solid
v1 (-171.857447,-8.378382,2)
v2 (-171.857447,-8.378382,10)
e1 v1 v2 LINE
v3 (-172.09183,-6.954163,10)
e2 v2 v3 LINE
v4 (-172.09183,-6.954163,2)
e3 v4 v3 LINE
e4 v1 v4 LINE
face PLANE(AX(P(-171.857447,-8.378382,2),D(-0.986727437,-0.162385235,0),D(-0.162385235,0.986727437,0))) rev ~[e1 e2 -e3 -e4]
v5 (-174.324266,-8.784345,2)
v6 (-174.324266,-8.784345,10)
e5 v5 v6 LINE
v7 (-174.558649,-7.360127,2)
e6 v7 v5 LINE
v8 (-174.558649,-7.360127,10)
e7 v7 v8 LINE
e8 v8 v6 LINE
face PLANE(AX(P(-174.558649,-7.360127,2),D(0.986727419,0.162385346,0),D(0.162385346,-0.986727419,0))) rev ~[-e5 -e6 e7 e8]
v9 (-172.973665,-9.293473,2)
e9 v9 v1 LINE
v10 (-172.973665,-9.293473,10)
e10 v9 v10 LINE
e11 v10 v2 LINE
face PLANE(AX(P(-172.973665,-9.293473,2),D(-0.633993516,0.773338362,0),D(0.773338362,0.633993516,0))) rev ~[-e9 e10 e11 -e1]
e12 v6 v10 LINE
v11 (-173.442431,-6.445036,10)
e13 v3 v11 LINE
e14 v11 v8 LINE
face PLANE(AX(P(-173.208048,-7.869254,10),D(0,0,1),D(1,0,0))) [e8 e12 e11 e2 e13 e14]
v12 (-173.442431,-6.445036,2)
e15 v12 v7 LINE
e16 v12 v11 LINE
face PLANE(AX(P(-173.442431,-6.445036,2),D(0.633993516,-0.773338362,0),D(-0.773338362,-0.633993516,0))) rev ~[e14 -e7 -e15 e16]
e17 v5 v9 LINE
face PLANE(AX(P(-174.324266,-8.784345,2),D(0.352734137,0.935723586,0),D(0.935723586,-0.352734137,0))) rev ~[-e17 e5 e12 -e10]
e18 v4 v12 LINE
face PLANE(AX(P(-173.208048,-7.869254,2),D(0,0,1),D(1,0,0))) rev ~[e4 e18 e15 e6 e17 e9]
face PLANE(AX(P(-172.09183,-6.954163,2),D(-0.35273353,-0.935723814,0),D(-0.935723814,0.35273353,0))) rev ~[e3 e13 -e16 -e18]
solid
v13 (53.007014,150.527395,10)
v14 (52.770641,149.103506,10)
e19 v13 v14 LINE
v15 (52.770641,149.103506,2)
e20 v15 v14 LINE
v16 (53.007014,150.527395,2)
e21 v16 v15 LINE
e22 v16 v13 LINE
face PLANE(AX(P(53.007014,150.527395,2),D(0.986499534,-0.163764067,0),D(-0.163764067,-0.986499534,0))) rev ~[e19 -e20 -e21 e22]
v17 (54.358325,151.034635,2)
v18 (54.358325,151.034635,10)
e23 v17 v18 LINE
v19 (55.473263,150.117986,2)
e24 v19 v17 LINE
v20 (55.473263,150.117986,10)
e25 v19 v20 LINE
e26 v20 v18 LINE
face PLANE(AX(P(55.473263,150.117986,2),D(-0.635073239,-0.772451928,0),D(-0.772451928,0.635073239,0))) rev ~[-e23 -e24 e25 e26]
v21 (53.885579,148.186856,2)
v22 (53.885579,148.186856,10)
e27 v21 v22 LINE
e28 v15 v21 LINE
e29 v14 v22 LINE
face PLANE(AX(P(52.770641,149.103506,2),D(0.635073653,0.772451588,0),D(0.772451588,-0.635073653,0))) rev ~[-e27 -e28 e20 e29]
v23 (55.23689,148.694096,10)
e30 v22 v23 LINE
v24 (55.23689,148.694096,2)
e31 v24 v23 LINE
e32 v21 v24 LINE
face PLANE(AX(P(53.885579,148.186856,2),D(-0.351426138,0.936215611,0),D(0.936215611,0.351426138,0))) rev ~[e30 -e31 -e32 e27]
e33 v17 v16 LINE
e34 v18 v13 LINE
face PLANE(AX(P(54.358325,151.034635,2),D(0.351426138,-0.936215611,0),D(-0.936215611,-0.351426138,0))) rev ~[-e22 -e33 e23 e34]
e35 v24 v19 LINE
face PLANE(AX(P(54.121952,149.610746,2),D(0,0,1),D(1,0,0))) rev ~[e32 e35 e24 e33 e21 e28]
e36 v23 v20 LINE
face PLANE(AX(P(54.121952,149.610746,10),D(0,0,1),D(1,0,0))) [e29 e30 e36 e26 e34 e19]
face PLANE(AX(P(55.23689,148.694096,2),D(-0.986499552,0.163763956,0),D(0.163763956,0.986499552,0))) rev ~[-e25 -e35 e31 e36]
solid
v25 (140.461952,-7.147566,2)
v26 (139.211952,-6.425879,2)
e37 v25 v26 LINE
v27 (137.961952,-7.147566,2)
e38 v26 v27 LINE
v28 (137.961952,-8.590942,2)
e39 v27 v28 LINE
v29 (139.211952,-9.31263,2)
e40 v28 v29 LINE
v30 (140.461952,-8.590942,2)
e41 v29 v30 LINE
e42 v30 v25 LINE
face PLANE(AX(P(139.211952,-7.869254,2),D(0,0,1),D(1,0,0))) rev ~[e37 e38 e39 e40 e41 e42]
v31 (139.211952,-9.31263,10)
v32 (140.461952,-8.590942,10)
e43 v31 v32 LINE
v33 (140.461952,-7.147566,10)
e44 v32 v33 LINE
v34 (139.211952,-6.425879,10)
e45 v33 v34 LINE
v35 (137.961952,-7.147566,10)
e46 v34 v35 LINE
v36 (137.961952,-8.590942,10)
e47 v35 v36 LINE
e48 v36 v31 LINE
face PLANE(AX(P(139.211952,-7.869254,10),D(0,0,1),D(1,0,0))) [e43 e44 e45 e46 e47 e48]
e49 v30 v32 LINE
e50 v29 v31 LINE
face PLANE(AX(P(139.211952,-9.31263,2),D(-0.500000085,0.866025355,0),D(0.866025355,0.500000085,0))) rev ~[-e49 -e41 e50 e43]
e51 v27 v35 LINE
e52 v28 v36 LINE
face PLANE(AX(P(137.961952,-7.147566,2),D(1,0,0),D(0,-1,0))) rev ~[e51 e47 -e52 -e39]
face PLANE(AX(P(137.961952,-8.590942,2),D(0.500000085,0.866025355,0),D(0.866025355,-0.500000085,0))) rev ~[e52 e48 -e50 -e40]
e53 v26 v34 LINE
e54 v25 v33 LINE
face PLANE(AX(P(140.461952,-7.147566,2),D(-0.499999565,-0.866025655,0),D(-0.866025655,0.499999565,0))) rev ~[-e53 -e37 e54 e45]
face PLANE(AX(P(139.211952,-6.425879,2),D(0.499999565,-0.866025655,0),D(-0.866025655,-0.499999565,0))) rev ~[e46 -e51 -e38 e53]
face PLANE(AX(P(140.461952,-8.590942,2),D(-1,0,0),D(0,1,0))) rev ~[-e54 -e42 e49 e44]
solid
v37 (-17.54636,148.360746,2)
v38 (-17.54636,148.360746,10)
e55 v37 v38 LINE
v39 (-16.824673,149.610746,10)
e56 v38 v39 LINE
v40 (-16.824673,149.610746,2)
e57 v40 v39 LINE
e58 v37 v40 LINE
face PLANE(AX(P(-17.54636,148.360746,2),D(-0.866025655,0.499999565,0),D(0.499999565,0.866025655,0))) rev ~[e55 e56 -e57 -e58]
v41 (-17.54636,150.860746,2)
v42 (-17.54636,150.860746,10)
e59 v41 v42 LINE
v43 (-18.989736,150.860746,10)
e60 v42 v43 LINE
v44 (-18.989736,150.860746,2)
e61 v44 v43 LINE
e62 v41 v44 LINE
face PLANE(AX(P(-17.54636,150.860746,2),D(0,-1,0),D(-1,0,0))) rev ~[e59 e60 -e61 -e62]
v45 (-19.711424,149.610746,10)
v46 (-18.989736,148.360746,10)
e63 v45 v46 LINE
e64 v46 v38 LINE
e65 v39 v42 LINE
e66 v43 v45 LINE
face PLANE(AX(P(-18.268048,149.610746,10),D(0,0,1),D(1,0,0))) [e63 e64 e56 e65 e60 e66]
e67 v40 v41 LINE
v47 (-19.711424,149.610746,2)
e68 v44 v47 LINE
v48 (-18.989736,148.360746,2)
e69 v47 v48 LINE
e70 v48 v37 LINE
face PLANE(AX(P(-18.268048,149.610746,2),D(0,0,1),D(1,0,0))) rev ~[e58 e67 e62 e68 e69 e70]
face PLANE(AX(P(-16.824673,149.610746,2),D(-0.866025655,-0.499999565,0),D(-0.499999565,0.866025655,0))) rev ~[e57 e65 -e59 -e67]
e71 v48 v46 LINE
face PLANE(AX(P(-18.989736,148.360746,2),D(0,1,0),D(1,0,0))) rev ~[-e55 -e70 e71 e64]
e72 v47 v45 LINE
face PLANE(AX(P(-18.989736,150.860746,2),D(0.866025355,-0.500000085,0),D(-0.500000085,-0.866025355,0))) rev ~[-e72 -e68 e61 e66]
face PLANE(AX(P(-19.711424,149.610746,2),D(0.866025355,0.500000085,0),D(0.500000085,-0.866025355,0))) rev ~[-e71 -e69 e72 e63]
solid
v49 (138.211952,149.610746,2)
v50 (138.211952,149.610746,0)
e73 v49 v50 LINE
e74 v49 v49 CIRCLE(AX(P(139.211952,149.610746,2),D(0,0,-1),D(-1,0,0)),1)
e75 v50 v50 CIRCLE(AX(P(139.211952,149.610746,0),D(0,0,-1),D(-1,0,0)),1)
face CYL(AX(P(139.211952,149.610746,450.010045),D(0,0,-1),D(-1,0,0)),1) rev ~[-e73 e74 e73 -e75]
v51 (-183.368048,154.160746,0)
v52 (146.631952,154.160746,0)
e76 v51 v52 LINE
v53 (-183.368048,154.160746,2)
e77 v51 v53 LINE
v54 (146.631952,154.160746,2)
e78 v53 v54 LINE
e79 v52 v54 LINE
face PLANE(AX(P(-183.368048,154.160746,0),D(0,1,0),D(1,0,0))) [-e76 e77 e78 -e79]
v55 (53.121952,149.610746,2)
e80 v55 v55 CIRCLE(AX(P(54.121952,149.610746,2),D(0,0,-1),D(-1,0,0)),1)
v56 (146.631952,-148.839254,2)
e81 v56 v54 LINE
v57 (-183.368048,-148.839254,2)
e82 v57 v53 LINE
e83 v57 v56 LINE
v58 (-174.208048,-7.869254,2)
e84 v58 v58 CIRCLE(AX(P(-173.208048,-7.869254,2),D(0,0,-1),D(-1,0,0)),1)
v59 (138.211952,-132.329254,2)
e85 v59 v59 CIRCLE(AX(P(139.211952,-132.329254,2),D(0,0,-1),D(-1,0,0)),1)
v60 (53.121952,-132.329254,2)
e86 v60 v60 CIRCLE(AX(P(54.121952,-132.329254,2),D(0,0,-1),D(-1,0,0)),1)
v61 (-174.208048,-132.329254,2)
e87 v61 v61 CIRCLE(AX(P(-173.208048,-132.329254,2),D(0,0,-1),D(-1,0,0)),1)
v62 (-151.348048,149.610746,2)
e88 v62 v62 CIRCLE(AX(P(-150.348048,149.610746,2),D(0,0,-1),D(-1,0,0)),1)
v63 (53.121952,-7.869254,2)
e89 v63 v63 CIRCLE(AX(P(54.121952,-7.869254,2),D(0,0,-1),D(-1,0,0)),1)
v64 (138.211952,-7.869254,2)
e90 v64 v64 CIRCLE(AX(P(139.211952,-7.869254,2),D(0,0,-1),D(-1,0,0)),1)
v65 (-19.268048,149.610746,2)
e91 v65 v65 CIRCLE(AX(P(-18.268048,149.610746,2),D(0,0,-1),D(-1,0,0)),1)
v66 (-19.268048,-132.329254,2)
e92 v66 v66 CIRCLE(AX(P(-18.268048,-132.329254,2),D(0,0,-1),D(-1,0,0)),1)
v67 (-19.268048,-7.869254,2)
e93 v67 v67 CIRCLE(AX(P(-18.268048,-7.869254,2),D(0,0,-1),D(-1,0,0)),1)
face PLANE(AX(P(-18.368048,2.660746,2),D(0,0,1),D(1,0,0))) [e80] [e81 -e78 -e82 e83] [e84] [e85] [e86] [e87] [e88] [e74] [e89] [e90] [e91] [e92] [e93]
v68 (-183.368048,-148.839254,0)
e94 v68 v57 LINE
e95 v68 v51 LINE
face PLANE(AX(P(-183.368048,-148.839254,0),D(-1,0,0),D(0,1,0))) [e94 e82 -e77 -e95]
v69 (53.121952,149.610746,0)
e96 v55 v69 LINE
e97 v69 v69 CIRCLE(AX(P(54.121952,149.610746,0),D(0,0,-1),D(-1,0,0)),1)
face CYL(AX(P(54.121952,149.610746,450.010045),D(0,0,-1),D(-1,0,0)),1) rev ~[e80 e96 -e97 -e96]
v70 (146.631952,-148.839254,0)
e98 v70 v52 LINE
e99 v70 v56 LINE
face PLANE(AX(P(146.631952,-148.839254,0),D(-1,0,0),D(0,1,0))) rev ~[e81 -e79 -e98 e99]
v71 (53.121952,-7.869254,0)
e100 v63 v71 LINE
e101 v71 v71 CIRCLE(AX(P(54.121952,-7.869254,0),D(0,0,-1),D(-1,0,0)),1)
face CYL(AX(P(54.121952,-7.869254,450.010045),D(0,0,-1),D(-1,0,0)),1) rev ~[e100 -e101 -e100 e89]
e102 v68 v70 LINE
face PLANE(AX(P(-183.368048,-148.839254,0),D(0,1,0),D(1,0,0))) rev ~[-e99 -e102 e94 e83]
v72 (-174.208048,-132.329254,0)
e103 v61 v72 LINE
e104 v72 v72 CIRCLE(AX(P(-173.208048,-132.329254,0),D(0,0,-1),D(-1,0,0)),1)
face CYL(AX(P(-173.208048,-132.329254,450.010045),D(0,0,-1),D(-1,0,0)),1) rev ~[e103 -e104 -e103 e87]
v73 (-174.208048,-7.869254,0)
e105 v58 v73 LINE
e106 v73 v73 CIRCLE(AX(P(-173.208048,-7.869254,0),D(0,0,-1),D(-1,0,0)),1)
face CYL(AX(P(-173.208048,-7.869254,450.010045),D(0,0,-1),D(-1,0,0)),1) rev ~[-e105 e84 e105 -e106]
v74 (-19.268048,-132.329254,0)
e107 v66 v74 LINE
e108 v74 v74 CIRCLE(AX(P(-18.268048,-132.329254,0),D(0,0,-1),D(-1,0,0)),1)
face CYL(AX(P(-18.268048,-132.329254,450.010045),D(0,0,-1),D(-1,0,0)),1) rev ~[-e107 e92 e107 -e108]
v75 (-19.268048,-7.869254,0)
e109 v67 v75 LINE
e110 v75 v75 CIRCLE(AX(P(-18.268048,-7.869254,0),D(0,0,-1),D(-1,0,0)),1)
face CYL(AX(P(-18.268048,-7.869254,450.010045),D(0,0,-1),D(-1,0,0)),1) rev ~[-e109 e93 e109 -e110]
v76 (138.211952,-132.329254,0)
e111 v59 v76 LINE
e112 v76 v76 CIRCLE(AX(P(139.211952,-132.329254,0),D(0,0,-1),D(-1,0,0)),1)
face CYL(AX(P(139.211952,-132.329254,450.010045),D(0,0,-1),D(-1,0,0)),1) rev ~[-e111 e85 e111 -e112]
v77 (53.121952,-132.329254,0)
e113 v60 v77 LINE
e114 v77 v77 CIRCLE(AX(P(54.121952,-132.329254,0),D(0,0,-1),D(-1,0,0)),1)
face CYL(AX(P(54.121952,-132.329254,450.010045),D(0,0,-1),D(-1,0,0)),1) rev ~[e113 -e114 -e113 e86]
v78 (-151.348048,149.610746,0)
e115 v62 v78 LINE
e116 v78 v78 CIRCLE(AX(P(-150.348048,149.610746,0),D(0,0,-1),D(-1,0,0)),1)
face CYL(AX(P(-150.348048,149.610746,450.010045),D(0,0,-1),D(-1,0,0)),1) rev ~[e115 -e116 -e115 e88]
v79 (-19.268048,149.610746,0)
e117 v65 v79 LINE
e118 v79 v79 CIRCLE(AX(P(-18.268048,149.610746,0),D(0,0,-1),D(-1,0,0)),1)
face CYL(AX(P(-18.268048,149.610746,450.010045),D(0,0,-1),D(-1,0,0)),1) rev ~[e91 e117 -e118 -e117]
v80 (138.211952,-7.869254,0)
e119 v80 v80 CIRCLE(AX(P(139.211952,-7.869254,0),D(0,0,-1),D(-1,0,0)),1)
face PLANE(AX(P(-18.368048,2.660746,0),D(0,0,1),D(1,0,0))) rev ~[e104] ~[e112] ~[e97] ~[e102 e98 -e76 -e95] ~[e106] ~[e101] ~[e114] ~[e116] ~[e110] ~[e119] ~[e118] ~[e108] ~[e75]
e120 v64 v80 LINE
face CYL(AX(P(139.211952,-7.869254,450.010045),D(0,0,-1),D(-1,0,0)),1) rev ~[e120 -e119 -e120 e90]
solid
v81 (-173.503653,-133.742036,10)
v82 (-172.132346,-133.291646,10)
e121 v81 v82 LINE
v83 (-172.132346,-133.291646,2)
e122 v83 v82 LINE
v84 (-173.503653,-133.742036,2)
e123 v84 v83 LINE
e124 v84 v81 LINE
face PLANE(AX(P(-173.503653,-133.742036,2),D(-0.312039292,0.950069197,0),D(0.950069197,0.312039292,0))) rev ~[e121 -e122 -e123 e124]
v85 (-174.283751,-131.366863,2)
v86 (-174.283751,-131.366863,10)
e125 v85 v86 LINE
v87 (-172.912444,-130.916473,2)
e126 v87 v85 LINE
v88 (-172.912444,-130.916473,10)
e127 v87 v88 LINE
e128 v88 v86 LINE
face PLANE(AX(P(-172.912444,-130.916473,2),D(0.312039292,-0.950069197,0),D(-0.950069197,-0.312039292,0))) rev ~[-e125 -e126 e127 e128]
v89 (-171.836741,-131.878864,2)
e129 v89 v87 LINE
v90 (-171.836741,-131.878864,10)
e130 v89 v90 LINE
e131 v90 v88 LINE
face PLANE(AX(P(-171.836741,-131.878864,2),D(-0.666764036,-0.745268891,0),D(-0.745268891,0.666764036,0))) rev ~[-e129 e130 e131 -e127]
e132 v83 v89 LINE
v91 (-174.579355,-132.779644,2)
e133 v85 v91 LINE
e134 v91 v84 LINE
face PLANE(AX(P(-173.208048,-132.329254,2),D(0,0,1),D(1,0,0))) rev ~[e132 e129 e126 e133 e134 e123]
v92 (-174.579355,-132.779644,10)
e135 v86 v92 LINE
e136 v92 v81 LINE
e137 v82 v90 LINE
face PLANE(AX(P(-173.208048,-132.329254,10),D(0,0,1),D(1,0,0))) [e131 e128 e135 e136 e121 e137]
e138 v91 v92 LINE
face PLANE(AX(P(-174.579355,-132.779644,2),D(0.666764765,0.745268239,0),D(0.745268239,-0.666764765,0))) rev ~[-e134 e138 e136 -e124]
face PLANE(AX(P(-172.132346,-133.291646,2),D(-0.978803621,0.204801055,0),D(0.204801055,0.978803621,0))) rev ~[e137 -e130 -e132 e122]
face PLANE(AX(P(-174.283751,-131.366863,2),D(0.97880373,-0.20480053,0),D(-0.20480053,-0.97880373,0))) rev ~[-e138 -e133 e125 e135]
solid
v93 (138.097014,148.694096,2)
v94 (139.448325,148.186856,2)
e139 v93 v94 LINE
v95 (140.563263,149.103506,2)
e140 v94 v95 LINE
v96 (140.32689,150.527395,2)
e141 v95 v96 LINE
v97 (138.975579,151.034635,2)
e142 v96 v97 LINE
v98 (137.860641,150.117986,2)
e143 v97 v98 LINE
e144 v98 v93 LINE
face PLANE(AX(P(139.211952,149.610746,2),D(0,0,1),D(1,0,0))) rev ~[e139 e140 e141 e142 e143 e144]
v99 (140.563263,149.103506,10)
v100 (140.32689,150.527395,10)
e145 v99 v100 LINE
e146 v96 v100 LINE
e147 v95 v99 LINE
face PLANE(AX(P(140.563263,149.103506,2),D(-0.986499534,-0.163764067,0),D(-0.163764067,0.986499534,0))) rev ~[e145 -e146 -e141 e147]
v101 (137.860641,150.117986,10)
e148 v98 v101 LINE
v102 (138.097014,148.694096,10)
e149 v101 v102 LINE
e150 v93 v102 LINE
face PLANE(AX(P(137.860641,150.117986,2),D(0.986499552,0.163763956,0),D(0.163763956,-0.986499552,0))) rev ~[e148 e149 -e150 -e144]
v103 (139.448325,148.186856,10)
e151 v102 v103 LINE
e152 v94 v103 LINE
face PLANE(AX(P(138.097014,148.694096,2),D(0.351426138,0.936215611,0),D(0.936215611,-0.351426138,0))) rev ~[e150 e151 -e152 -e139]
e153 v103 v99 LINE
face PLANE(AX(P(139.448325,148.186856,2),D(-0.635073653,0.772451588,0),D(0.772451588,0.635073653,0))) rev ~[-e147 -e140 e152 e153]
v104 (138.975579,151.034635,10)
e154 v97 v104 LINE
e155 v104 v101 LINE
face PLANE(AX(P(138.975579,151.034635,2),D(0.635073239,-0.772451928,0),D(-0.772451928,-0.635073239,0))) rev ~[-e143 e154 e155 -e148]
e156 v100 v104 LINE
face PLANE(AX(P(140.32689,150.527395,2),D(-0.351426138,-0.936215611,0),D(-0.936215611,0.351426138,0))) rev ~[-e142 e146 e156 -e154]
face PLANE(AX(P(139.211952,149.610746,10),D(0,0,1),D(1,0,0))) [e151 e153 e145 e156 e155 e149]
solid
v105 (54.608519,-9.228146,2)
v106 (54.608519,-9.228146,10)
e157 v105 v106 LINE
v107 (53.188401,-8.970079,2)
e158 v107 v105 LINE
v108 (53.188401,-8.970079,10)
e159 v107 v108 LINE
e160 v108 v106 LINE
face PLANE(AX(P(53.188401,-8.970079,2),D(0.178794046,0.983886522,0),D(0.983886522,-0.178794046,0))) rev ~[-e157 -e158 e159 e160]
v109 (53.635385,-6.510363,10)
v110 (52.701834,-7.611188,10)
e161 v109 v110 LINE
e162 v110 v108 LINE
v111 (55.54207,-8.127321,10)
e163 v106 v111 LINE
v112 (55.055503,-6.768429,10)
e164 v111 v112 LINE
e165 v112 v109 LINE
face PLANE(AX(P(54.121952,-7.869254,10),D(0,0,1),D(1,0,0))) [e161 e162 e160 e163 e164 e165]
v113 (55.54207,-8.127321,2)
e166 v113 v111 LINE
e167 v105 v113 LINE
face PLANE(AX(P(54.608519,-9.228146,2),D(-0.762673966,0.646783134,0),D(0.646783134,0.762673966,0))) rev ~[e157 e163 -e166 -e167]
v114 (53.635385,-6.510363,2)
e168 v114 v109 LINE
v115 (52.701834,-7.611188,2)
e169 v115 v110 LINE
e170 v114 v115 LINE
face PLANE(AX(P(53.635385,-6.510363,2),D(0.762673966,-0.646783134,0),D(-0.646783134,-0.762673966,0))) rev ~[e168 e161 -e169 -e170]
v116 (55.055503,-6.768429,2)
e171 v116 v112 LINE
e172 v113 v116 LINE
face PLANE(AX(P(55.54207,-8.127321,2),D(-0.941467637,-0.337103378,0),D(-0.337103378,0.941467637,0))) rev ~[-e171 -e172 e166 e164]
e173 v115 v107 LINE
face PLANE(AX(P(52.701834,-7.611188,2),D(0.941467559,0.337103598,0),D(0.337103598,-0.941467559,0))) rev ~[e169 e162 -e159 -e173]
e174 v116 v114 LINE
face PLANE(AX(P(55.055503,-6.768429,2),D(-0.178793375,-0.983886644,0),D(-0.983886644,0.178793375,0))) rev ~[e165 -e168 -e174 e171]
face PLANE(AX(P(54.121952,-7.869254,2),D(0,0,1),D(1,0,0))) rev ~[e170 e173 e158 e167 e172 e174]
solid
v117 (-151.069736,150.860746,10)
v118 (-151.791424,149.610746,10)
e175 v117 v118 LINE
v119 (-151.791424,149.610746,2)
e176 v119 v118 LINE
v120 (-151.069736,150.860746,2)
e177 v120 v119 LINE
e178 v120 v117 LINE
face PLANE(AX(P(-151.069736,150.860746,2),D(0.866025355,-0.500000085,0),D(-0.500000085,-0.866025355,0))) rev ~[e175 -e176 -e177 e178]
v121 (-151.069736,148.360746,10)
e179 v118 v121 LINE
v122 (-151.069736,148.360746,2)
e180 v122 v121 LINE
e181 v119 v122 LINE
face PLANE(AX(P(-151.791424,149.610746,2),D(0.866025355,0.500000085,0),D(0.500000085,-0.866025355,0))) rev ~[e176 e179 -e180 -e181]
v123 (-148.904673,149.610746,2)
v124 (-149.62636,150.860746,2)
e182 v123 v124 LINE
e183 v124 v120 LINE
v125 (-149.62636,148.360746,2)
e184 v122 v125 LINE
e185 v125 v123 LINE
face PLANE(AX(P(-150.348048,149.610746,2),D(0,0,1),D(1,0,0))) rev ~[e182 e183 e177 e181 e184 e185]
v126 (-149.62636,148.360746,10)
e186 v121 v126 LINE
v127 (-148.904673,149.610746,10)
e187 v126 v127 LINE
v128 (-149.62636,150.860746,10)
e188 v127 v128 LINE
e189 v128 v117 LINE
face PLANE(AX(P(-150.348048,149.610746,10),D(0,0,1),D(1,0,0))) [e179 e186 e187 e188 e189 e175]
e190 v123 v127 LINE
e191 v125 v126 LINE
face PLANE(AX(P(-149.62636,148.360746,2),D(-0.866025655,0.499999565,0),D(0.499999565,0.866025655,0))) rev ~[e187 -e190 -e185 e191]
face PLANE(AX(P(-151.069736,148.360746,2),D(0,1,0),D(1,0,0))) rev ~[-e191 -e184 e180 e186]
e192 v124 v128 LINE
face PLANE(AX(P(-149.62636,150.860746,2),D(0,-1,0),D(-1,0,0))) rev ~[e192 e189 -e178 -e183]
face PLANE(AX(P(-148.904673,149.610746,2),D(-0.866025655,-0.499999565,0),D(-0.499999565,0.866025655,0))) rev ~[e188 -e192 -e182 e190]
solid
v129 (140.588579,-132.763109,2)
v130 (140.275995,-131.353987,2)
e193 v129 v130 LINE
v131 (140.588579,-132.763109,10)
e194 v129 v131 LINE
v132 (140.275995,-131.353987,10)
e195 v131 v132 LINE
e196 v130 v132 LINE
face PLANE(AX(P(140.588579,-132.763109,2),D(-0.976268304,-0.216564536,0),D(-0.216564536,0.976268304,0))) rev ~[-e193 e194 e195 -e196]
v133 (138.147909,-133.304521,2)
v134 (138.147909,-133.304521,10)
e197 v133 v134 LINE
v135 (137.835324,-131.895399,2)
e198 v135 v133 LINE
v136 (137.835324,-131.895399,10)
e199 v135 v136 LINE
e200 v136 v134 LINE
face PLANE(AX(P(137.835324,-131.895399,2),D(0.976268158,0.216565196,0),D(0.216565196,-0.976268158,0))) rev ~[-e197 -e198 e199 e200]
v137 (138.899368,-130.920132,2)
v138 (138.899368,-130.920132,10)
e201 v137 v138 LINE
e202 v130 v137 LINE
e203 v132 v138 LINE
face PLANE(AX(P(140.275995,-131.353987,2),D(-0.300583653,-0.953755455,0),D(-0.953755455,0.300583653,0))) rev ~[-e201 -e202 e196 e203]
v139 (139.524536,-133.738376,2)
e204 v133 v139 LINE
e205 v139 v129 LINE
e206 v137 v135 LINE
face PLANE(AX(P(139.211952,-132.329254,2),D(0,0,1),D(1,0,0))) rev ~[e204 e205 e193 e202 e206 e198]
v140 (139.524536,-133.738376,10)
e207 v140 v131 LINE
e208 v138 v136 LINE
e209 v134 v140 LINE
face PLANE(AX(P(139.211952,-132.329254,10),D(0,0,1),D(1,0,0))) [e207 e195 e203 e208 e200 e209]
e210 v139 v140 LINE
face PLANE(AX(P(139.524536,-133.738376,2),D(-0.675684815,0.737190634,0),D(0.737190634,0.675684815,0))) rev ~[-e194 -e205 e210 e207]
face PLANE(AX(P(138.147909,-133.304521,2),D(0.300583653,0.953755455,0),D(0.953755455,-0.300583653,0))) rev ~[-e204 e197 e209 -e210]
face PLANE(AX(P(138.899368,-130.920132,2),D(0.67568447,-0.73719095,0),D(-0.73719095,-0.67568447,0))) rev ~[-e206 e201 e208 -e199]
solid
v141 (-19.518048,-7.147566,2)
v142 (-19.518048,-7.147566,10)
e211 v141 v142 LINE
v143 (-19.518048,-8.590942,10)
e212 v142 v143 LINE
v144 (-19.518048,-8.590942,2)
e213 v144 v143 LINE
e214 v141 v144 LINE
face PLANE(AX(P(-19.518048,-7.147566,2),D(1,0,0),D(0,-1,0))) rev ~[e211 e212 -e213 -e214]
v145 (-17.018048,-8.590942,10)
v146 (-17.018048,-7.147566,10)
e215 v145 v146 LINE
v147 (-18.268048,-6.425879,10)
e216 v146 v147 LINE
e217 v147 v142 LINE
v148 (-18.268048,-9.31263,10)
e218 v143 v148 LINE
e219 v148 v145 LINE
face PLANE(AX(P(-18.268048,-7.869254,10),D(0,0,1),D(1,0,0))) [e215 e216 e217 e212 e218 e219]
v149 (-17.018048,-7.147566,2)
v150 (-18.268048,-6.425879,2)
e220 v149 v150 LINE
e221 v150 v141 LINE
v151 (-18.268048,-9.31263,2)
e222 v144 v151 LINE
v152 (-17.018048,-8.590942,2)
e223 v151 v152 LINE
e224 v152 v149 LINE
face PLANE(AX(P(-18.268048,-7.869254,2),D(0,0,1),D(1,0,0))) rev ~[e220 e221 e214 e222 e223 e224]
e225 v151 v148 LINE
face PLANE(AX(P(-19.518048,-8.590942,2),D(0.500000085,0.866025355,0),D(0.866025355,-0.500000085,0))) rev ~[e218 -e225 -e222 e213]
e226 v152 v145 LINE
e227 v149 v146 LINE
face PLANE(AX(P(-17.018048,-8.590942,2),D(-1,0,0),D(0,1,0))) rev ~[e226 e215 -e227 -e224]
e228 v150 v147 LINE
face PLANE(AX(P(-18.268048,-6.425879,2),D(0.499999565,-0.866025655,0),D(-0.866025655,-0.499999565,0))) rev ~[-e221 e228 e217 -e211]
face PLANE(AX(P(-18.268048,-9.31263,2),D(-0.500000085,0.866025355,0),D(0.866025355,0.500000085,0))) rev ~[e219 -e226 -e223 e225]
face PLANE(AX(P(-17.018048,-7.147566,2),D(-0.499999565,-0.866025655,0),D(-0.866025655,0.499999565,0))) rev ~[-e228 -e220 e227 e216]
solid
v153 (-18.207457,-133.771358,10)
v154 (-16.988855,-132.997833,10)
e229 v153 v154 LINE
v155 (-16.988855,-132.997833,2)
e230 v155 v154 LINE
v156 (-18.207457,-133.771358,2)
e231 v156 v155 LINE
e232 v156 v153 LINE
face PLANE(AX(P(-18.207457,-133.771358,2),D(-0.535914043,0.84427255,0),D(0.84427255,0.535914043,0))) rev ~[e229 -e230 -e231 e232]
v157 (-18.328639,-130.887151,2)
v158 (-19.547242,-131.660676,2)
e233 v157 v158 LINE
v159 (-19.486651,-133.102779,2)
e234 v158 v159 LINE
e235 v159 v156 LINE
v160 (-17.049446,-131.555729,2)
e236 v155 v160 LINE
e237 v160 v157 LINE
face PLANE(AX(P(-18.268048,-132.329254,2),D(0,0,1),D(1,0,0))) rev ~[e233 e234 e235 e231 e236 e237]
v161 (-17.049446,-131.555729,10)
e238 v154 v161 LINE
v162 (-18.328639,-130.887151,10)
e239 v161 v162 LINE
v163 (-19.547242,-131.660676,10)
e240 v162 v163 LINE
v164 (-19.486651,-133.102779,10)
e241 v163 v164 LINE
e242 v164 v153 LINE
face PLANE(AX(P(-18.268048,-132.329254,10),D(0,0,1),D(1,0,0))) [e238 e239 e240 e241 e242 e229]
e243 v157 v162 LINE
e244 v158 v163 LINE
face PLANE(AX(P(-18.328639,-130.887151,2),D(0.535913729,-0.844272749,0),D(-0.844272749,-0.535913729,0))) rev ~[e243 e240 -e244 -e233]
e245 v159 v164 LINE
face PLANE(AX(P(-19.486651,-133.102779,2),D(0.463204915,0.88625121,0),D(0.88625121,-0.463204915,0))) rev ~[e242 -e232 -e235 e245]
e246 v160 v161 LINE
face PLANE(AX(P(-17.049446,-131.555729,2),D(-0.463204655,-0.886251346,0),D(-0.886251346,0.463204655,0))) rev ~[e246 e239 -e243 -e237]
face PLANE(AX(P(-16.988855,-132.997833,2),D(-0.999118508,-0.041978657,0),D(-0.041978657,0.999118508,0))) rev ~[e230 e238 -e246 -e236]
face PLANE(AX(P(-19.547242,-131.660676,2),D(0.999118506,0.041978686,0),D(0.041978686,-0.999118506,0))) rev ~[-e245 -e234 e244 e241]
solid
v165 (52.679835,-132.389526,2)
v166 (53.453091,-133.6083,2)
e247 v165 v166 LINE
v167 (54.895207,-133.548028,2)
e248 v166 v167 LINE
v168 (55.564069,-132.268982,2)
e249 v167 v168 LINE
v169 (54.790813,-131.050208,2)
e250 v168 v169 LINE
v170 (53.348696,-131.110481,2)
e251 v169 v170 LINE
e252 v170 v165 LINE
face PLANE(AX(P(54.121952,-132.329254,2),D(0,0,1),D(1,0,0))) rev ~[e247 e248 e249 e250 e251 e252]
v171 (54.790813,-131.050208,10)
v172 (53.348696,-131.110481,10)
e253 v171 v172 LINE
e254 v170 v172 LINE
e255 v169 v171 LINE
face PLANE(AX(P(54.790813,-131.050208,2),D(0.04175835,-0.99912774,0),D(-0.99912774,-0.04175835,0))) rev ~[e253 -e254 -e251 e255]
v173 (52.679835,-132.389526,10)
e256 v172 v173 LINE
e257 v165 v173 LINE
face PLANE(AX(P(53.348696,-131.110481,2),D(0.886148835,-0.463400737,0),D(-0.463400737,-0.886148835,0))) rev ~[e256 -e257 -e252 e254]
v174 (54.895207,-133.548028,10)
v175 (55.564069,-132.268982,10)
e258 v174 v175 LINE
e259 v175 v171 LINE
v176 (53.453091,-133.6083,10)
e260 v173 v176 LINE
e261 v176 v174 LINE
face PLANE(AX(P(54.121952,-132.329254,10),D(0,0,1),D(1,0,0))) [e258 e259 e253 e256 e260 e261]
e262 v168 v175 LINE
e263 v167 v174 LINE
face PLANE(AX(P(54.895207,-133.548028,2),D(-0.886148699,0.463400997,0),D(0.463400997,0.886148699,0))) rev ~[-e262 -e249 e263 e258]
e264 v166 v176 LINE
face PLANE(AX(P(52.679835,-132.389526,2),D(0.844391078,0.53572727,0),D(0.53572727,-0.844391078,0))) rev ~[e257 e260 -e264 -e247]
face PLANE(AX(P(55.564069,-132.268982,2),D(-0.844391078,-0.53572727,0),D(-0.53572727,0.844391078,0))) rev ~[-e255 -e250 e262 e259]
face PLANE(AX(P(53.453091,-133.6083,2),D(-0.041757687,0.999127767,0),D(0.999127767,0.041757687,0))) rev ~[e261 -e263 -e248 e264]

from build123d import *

# Parameters (mm, degrees)
F0_W     = 330
F0_H     = 303
F1_DEPTH = 2
F3_D     = 2
F5_DEPTH = 8


with BuildPart() as f1:
    # F0 (on Top) → F1 (new body)
    with BuildSketch(Plane.XY):
        with Locations((-18.368048, 2.660746)):
            Rectangle(F0_W, F0_H)
    extrude(amount=F1_DEPTH)

    # F3 (through all)
    with Locations(Plane.XY.offset(2)):
        with Locations((-150.348048, 149.610746), (-173.208048, -7.869254), (-18.268048, -132.329254), (-173.208048, -132.329254), (-18.268048, -7.869254), (-18.268048, 149.610746), (139.211952, -132.329254), (54.121952, 149.610746), (139.211952, -7.869254), (139.211952, 149.610746), (54.121952, -132.329254), (54.121952, -7.869254)):
            Hole(F3_D / 2)


with BuildPart() as f5:
    # F4 (on face) → F5 (new body)
    with BuildSketch(Plane.XY.offset(2)):
        Polygon((-172.912444, -130.916473), (-174.283751, -131.366863), (-174.579355, -132.779644), (-173.503653, -133.742036), (-172.132346, -133.291646), (-171.836741, -131.878864), align=None)
        Polygon((-172.09183, -6.954163), (-173.442431, -6.445036), (-174.558649, -7.360127), (-174.324266, -8.784345), (-172.973665, -9.293473), (-171.857447, -8.378382), align=None)
        Polygon((-149.62636, 150.860746), (-151.069736, 150.860746), (-151.791424, 149.610746), (-151.069736, 148.360746), (-149.62636, 148.360746), (-148.904673, 149.610746), align=None)
        Polygon((-17.54636, 150.860746), (-18.989736, 150.860746), (-19.711424, 149.610746), (-18.989736, 148.360746), (-17.54636, 148.360746), (-16.824673, 149.610746), align=None)
        Polygon((53.885579, 148.186856), (55.23689, 148.694096), (55.473263, 150.117986), (54.358325, 151.034635), (53.007014, 150.527395), (52.770641, 149.103506), align=None)
        Polygon((138.097014, 148.694096), (139.448325, 148.186856), (140.563263, 149.103506), (140.32689, 150.527395), (138.975579, 151.034635), (137.860641, 150.117986), align=None)
        Polygon((137.961952, -7.147566), (137.961952, -8.590942), (139.211952, -9.31263), (140.461952, -8.590942), (140.461952, -7.147566), (139.211952, -6.425879), align=None)
        Polygon((53.635385, -6.510363), (52.701834, -7.611188), (53.188401, -8.970079), (54.608519, -9.228146), (55.54207, -8.127321), (55.055503, -6.768429), align=None)
        Polygon((-17.018048, -8.590942), (-17.018048, -7.147566), (-18.268048, -6.425879), (-19.518048, -7.147566), (-19.518048, -8.590942), (-18.268048, -9.31263), align=None)
        Polygon((-17.049446, -131.555729), (-18.328639, -130.887151), (-19.547242, -131.660676), (-19.486651, -133.102779), (-18.207457, -133.771358), (-16.988855, -132.997833), align=None)
        Polygon((53.348696, -131.110481), (52.679835, -132.389526), (53.453091, -133.6083), (54.895207, -133.548028), (55.564069, -132.268982), (54.790813, -131.050208), align=None)
        Polygon((140.275995, -131.353987), (138.899368, -130.920132), (137.835324, -131.895399), (138.147909, -133.304521), (139.524536, -133.738376), (140.588579, -132.763109), align=None)
    extrude(amount=F5_DEPTH)


solid = Compound([f1.part, f5.part])
